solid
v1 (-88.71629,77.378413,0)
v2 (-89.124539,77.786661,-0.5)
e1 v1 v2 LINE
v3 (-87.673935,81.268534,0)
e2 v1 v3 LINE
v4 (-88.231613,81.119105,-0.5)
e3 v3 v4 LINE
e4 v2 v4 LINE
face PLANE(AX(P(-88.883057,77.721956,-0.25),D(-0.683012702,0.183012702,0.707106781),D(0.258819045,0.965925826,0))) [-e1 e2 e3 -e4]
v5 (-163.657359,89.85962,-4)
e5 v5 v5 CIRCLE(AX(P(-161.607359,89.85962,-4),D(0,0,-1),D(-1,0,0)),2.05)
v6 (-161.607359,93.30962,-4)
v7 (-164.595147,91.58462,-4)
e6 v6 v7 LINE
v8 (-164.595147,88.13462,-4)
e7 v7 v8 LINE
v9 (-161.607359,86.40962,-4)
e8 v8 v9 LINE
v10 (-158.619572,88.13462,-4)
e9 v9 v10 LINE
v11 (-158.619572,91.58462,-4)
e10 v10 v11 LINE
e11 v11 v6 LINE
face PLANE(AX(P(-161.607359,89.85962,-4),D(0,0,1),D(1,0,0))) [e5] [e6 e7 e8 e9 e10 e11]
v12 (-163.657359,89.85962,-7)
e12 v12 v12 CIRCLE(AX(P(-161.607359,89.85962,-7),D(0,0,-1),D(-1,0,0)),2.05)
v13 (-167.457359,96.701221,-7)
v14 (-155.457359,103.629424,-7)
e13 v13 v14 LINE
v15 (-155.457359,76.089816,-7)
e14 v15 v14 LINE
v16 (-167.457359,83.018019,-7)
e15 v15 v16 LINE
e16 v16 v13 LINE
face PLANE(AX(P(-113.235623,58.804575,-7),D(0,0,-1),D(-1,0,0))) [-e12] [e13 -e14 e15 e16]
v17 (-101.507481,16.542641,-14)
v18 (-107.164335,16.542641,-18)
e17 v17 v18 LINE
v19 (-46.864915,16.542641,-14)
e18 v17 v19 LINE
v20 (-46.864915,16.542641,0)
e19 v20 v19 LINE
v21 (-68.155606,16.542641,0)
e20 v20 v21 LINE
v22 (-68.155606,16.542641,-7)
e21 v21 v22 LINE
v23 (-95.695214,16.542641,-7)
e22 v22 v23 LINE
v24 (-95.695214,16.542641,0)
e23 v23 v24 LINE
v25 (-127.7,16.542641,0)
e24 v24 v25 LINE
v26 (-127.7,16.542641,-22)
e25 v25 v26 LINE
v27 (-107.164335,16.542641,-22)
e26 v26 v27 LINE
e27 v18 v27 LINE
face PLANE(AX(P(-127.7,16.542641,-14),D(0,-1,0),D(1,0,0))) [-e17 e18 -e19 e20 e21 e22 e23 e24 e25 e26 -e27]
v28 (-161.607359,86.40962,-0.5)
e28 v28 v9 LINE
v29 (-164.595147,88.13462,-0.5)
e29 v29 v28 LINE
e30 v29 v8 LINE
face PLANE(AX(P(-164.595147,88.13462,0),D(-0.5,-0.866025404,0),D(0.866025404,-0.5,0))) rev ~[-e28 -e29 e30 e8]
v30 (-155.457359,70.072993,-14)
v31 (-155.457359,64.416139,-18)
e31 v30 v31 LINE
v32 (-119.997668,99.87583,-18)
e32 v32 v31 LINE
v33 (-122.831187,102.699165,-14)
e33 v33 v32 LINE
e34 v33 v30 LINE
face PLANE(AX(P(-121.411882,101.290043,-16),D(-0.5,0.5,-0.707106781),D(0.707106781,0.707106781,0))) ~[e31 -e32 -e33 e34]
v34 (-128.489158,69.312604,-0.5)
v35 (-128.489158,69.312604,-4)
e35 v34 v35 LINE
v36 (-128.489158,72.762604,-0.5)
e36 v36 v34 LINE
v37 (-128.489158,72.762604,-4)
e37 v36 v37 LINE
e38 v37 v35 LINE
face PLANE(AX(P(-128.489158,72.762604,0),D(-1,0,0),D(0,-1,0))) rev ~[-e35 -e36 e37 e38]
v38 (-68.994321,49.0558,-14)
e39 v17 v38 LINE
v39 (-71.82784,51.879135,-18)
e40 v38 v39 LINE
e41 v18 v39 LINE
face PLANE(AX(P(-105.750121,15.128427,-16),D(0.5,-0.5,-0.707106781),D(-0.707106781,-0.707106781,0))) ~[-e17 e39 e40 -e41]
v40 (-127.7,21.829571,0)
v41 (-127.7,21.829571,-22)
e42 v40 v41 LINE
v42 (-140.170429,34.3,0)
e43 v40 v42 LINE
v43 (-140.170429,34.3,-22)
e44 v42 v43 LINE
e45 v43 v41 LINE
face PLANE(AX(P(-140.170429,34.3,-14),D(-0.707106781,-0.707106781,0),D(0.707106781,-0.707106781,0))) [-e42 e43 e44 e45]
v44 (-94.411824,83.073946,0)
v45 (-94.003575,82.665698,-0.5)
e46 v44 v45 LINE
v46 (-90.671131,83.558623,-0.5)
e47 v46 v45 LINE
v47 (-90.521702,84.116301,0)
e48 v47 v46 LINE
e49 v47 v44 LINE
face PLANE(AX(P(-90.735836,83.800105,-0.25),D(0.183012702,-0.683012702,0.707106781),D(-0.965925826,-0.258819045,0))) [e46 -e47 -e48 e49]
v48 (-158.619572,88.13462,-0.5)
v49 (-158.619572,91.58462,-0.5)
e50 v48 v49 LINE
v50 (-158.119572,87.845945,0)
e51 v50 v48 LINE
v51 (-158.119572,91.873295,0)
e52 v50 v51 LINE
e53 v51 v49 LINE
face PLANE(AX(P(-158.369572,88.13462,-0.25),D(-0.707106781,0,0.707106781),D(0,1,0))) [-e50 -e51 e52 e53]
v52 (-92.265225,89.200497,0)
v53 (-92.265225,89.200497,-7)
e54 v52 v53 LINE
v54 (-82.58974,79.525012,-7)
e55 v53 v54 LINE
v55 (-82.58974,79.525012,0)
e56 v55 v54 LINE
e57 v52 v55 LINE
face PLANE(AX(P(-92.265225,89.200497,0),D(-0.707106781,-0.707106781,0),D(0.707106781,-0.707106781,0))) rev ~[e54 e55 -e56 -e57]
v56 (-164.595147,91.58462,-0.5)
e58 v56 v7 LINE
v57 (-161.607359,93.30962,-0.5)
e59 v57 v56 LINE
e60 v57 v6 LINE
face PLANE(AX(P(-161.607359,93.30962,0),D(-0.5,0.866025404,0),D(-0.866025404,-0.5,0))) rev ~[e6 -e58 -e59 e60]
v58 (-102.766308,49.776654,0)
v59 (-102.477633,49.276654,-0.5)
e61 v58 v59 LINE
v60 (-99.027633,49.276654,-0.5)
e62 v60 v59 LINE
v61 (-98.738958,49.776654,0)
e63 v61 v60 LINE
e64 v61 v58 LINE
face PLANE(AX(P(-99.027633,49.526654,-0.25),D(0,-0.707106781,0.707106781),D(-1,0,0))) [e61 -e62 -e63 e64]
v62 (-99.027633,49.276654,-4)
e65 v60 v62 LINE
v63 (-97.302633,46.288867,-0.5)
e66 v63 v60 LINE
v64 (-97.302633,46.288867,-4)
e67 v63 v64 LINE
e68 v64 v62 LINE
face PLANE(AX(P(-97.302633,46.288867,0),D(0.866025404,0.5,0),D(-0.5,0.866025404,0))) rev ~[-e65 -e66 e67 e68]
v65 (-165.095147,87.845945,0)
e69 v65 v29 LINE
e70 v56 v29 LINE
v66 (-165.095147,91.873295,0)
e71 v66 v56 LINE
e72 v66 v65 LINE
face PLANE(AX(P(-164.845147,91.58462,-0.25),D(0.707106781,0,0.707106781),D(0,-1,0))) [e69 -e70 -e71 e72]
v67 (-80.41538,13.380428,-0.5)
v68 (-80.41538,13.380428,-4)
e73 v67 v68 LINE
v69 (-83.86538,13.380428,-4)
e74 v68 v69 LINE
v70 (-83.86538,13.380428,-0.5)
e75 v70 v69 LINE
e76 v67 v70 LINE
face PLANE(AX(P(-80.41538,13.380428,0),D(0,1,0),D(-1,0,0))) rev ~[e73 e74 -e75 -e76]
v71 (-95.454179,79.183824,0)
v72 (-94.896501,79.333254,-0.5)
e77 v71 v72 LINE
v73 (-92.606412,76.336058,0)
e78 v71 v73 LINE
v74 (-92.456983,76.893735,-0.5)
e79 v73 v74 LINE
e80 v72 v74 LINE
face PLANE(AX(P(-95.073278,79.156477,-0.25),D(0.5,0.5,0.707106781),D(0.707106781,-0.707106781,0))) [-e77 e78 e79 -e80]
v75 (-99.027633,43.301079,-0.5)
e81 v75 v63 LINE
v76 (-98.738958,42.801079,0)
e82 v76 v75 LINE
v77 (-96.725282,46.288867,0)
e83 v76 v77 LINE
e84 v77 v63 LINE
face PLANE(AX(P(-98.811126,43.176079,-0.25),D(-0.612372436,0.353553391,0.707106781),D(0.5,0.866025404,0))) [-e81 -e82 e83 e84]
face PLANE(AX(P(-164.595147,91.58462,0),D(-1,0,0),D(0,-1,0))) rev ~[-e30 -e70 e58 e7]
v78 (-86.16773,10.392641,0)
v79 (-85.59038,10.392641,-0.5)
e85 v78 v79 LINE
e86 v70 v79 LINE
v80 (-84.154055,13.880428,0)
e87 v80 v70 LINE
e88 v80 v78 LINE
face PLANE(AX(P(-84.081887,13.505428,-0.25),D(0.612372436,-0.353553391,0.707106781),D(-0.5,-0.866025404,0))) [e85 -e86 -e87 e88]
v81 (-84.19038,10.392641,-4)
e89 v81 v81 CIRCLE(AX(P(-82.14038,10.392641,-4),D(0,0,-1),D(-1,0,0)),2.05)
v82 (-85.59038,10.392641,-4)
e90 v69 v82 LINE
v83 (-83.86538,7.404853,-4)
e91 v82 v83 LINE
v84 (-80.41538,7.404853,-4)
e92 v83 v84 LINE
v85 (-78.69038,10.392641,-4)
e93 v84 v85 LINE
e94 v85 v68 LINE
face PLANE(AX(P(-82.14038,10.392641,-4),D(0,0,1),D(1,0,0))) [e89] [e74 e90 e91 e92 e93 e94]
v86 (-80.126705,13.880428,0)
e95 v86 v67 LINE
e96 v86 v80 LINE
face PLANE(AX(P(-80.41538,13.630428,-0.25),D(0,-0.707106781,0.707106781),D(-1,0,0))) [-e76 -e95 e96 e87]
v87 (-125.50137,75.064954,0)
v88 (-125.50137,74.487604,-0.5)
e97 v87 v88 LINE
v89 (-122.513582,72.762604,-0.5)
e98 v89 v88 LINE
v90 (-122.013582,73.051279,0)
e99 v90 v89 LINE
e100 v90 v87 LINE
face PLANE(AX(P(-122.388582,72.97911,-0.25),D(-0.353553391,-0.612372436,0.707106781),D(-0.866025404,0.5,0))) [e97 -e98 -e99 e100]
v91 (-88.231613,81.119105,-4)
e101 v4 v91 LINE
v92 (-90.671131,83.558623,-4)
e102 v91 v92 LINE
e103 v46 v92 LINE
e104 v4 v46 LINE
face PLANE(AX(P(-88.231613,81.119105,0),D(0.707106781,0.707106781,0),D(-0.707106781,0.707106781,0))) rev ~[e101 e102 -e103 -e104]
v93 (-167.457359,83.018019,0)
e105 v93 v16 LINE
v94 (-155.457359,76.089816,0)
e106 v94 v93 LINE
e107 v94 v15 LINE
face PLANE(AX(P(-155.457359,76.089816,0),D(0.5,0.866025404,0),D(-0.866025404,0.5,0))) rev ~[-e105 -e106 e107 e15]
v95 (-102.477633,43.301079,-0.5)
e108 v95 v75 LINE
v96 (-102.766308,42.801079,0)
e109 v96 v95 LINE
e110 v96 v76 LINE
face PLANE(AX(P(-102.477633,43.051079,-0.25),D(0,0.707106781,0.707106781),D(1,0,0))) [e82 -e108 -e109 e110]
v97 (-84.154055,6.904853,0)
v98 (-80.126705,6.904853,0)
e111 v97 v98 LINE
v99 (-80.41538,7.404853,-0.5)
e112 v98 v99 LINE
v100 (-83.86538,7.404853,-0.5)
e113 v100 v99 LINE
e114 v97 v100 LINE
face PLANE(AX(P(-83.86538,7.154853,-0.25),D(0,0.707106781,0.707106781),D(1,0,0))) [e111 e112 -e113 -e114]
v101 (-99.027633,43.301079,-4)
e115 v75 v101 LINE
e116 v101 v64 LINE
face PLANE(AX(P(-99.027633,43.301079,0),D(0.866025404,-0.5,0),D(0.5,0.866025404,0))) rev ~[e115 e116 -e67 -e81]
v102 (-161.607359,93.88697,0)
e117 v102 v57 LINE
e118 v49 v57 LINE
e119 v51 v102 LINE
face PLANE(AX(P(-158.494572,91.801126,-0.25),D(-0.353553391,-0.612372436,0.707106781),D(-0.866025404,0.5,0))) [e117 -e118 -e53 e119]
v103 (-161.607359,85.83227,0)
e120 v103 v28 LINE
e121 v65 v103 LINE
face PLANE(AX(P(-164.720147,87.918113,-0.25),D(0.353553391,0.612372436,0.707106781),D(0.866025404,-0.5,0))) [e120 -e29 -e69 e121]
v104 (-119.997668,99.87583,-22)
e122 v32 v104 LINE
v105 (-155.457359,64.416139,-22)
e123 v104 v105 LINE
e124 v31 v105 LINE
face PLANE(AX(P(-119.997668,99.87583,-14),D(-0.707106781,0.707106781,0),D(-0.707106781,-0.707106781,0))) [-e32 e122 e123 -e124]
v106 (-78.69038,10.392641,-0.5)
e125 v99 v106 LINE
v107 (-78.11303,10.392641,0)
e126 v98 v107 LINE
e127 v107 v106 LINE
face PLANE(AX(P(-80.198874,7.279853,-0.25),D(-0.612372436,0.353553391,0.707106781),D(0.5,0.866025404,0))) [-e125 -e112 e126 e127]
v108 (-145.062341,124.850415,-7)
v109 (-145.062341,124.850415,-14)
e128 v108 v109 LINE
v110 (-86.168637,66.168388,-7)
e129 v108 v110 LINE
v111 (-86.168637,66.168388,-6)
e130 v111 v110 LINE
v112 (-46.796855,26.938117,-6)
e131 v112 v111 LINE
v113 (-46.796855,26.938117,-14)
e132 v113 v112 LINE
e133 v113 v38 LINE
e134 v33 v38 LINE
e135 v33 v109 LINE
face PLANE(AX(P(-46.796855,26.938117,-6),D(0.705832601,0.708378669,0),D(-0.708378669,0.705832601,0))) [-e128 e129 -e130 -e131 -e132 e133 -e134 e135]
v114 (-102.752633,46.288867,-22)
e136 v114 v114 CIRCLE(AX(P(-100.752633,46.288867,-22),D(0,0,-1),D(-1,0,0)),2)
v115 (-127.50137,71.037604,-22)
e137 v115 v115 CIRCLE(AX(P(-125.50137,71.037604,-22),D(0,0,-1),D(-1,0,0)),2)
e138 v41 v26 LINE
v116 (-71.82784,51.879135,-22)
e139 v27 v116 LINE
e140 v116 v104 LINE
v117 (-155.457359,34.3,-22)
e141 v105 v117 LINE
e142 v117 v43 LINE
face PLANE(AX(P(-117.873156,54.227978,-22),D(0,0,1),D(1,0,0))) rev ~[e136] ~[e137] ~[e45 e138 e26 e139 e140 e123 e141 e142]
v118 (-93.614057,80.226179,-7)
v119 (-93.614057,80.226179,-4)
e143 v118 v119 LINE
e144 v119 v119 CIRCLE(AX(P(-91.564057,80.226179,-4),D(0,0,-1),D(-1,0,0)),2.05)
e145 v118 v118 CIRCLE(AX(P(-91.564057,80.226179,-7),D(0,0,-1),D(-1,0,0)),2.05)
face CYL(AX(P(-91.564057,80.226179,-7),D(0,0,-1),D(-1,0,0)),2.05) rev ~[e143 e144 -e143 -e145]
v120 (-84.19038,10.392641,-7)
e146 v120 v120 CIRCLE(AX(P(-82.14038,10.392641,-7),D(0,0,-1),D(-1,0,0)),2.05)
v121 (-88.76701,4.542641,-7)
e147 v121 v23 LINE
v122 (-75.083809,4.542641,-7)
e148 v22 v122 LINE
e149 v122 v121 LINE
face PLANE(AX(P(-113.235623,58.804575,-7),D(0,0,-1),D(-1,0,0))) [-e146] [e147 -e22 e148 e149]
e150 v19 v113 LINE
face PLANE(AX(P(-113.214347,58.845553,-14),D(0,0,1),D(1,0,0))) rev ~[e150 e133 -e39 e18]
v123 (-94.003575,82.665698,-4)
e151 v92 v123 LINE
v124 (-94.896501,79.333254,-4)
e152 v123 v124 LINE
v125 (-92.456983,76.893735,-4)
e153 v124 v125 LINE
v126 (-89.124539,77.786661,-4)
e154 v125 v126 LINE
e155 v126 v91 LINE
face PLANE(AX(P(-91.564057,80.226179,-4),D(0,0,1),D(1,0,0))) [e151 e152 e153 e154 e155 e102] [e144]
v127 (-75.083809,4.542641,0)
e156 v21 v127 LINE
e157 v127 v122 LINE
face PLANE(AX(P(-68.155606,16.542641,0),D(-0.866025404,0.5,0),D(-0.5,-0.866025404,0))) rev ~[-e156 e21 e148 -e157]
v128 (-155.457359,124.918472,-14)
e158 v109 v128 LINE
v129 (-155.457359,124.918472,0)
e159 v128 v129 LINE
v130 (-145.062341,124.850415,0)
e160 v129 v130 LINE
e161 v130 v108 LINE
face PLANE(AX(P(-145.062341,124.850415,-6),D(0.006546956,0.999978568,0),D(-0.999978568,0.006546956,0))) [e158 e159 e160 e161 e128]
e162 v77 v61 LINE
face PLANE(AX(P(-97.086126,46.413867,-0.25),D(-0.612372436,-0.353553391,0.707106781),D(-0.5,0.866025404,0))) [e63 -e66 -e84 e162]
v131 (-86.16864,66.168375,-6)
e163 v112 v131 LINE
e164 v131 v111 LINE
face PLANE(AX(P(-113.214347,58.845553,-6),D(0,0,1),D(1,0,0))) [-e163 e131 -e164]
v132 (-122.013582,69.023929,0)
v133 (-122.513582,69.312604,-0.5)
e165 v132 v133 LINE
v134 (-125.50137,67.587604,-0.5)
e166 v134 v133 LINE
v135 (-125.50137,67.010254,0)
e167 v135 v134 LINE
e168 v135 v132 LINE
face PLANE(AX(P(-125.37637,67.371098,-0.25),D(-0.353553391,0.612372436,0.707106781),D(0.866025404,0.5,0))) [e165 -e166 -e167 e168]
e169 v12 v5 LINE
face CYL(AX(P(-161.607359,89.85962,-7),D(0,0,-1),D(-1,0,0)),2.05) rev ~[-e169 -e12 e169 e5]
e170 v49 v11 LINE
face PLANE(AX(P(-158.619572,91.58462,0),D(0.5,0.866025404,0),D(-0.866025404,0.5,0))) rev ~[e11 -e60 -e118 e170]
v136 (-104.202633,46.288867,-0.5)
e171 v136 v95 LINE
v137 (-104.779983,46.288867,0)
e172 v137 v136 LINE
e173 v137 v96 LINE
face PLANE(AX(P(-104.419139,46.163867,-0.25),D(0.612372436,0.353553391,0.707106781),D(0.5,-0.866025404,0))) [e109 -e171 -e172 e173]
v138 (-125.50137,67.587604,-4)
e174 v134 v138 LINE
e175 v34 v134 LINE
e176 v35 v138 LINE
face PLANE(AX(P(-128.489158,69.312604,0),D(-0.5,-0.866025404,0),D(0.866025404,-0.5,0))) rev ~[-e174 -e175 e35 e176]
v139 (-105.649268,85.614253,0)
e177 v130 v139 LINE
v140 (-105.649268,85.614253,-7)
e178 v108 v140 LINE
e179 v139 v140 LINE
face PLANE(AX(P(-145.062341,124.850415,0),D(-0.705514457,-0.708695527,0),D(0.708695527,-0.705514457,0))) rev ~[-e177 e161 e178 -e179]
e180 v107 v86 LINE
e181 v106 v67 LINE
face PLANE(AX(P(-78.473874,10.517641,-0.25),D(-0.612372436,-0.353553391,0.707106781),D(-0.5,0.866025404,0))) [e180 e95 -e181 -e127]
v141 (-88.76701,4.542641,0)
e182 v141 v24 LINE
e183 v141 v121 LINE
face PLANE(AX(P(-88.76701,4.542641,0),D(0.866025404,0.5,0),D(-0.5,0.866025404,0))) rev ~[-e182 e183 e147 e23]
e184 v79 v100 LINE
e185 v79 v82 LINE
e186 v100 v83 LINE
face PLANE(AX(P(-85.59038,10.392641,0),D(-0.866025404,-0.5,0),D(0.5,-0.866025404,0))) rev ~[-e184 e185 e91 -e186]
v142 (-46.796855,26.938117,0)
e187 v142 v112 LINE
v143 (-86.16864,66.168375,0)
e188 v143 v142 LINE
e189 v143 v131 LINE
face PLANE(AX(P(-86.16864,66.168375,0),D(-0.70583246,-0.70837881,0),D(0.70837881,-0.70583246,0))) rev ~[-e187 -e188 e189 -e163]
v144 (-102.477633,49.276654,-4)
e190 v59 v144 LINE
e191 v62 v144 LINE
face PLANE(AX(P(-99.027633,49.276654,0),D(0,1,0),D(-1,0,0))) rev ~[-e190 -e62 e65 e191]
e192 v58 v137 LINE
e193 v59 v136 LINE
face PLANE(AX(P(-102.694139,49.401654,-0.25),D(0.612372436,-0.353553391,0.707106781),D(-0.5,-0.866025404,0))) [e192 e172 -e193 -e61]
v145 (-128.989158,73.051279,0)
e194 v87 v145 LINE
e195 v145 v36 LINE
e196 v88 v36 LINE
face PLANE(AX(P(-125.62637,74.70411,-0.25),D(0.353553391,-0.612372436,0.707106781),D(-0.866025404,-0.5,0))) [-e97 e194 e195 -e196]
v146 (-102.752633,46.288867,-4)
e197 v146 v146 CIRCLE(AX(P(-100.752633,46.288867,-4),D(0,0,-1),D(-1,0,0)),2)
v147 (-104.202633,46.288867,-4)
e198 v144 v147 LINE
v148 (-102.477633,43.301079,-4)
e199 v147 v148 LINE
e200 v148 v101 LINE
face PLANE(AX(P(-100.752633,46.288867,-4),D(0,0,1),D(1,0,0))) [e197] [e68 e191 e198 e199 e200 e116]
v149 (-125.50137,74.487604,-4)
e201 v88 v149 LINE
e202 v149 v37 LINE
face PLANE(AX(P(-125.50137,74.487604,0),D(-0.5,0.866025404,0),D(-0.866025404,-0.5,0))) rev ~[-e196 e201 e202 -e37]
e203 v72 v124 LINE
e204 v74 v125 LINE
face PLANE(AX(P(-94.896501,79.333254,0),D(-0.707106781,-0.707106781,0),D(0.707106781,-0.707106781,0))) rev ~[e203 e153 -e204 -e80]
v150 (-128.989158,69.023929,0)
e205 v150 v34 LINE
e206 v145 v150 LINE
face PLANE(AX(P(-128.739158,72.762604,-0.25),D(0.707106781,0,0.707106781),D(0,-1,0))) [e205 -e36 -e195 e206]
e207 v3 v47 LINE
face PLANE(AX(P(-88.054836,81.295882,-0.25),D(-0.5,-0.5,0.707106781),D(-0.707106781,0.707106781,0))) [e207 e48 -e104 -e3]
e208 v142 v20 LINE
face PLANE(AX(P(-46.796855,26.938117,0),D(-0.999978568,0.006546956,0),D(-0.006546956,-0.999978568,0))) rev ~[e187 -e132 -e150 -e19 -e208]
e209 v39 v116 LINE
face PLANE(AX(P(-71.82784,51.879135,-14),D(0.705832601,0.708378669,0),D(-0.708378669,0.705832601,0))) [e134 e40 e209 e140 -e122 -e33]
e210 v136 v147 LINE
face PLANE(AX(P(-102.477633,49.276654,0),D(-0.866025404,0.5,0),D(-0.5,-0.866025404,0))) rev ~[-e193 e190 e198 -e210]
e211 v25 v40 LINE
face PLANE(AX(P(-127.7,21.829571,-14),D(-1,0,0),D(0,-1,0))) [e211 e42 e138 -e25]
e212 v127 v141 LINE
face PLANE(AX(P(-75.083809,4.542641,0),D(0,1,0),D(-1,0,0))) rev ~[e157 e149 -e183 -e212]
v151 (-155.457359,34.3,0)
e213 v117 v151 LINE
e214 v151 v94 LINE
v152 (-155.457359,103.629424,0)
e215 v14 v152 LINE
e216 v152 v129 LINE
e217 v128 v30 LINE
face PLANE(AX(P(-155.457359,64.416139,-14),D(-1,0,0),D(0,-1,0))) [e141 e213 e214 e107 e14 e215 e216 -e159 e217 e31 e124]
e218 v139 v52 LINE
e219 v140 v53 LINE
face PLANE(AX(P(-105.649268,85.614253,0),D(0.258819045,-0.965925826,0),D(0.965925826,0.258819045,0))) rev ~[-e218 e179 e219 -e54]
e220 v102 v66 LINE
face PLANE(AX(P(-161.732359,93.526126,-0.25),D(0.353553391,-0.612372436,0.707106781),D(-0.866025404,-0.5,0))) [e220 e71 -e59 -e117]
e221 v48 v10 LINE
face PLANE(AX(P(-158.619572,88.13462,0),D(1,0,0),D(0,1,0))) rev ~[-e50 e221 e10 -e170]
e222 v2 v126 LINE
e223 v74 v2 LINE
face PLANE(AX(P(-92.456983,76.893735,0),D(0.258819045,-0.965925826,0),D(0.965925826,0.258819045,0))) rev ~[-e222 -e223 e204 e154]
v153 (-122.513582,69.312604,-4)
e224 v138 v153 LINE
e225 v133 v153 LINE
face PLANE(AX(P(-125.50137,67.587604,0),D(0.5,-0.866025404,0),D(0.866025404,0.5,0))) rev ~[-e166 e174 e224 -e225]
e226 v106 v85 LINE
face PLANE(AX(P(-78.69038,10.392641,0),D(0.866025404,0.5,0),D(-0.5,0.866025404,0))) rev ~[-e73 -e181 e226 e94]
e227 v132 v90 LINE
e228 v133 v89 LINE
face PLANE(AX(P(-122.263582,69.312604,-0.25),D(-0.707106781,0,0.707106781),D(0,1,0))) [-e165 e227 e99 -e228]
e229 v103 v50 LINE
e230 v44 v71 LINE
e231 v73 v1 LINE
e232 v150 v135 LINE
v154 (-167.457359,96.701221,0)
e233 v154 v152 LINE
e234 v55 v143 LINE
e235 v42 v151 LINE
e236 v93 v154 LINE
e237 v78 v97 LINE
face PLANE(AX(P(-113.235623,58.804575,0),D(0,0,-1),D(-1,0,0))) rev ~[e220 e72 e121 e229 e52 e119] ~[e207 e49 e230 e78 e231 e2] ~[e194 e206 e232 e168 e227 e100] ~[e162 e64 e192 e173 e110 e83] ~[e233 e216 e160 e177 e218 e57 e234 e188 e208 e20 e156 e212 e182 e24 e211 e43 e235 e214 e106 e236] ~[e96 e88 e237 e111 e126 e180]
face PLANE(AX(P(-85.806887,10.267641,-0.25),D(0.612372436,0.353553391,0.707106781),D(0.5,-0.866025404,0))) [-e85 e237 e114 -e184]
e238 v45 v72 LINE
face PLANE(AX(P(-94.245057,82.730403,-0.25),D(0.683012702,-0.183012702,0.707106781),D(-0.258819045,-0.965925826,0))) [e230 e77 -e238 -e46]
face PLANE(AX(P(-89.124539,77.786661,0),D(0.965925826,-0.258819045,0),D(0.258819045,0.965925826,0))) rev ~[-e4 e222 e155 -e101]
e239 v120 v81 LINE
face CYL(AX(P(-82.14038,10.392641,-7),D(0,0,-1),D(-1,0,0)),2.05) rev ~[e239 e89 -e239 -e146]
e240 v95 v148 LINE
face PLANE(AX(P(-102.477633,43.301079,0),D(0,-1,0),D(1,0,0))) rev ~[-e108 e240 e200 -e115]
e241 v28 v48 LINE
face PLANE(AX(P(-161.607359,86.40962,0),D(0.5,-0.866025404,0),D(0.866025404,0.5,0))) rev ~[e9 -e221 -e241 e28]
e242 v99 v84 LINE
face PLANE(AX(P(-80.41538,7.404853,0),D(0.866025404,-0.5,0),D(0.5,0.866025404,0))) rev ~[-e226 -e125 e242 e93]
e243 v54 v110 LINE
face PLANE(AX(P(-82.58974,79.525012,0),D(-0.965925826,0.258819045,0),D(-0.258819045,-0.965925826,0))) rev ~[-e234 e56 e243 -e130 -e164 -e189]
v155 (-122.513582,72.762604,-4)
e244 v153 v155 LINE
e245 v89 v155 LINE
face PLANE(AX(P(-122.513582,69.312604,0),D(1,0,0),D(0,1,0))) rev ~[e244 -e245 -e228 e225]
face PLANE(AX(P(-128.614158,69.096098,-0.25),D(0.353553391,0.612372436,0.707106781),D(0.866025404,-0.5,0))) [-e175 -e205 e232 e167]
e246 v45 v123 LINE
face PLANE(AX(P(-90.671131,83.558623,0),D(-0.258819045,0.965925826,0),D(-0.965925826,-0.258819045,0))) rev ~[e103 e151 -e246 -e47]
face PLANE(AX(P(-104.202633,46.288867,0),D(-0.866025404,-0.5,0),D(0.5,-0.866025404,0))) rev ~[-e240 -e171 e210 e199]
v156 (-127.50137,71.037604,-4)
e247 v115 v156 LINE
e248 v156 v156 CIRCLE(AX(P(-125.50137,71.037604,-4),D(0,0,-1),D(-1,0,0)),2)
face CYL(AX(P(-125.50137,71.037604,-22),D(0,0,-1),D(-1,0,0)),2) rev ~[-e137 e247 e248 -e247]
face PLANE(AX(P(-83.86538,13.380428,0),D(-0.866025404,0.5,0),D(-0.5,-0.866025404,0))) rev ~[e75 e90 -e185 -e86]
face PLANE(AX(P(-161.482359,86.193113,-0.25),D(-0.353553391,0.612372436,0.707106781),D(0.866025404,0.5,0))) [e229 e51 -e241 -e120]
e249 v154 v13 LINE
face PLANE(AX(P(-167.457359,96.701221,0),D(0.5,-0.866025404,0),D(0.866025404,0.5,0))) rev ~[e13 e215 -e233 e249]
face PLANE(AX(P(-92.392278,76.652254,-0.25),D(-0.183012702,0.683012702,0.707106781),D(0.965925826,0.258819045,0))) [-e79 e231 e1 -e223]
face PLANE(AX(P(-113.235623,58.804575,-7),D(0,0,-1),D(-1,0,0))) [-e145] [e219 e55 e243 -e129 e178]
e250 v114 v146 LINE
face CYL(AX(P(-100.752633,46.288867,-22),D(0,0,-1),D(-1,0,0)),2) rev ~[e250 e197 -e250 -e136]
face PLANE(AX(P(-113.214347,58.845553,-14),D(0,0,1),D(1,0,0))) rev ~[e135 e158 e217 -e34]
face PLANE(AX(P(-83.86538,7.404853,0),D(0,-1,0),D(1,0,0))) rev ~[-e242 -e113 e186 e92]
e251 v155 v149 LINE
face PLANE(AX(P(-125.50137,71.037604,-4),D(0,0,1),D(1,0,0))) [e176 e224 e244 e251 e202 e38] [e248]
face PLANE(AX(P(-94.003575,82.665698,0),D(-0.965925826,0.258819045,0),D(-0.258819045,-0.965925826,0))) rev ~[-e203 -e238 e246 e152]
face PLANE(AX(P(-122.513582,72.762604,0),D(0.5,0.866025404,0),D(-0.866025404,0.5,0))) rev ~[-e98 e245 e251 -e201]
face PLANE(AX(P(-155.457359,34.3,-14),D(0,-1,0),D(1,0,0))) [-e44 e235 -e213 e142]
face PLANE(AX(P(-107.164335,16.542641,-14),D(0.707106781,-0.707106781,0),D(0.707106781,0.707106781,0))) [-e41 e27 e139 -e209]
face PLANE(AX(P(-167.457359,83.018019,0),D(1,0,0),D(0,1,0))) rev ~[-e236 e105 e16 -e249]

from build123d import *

# Parameters (mm, degrees)
BOSS_EXTRUDE1_DEPTH      = 7
SKETCH2_R                = 2.05
CUT_EXTRUDE1_DEPTH       = 210.034905978
CUT_EXTRUDE2_DEPTH       = 4
BOSS_EXTRUDE8_DEPTH      = 7
BOSS_EXTRUDE8_DEPTH_BACK = 1
BOSS_EXTRUDE9_DEPTH      = 8
SKETCH22_R               = 2
CUT_EXTRUDE3_DEPTH       = 211.072825271
CUT_EXTRUDE4_DEPTH       = 4
CHAMFER1_SIZE            = 0.5
CHAMFER2_SIZE            = 0.5
CHAMFER3_SIZE            = 4


with BuildPart() as part:
    # Sketch1 → Boss-Extrude1 (new body)
    with BuildSketch(Plane.XY):
        Polygon((-86.168640192, 66.168375393), (-46.796854981, 26.9381166), (-46.864915159, 16.542640687), (-68.155605804, 16.542640687), (-75.083809034, 4.542640687), (-88.767010414, 4.542640687), (-95.695213644, 16.542640687), (-127.7, 16.542640687), (-127.7, 21.829570993), (-140.170429007, 34.3), (-155.457359313, 34.3), (-155.457359313, 76.089816153), (-167.457359313, 83.018019384), (-167.457359313, 96.701220763), (-155.457359313, 103.629423994), (-155.457359313, 124.918472329), (-145.062341245, 124.850415149), (-105.649268389, 85.614252867), (-92.265224659, 89.200496576), (-82.589740175, 79.525012092), align=None)
    extrude(amount=-BOSS_EXTRUDE1_DEPTH)

    # Sketch2 → Cut-Extrude1 (cut, through all)
    with BuildSketch(Plane(origin=(0, 0, -7), x_dir=(-1, 0, 0), z_dir=(0, 0, -1))):
        with Locations((82.1403802, 10.392640687)):
            Circle(SKETCH2_R)
        with Locations((91.564057064, 80.226179394)):
            Circle(SKETCH2_R)
        with Locations((161.607359313, 89.8596198)):
            Circle(SKETCH2_R)
    extrude(amount=-CUT_EXTRUDE1_DEPTH, mode=Mode.SUBTRACT)

    # Sketch3 → Cut-Extrude2 (cut)
    with BuildSketch(Plane.XY):
        Polygon((-158.61957167, 88.1346198), (-158.61957167, 91.5846198), (-161.607359313, 93.3096198), (-164.595146956, 91.5846198), (-164.595146956, 88.1346198), (-161.607359313, 86.4096198), align=None)
        Polygon((-88.231612963, 81.1191051), (-90.671131358, 83.558623495), (-94.003575459, 82.665697789), (-94.896501165, 79.333253689), (-92.456982769, 76.893735294), (-89.124538669, 77.786660999), align=None)
        Polygon((-80.4153802, 7.404853044), (-78.6903802, 10.392640687), (-80.4153802, 13.38042833), (-83.8653802, 13.38042833), (-85.5903802, 10.392640687), (-83.8653802, 7.404853044), align=None)
    extrude(amount=-CUT_EXTRUDE2_DEPTH, mode=Mode.SUBTRACT)

    # Sketch19 → Boss-Extrude8 (add, two sides: drawn at the far end of the back side and taken through both)
    with BuildSketch(Plane(origin=(0, 0, -7), x_dir=(-1, 0, 0), z_dir=(0, 0, -1)).offset(-BOSS_EXTRUDE8_DEPTH_BACK)):
        Polygon((46.864915159, 16.542640687), (46.796854981, 26.9381166), (145.062341245, 124.850415149), (155.457359313, 124.918472329), (155.457359313, 34.3), (140.170429007, 34.3), (127.7, 21.829570993), (127.7, 16.542640687), align=None)
    extrude(amount=BOSS_EXTRUDE8_DEPTH + BOSS_EXTRUDE8_DEPTH_BACK)

    # Sketch20 → Boss-Extrude9 (add)
    with BuildSketch(Plane(origin=(0, 0, -14), x_dir=(-1, 0, 0), z_dir=(0, 0, -1))):
        Polygon((127.7, 16.542640687), (107.164334943, 16.542640687), (71.827840432, 51.879135198), (119.997668017, 99.875829855), (155.457359313, 64.416138559), (155.457359313, 34.3), (140.170429007, 34.3), (127.7, 21.829570993), align=None)
    extrude(amount=BOSS_EXTRUDE9_DEPTH)

    # Sketch22 → Cut-Extrude3 (cut, through all)
    with BuildSketch(Plane(origin=(0, 0, -22), x_dir=(-1, 0, 0), z_dir=(0, 0, -1))):
        with Locations((100.752632712, 46.288866697)):
            Circle(SKETCH22_R)
        with Locations((125.501370054, 71.037604039)):
            Circle(SKETCH22_R)
    extrude(amount=-CUT_EXTRUDE3_DEPTH, mode=Mode.SUBTRACT)

    # Sketch23 → Cut-Extrude4 (cut)
    with BuildSketch(Plane.XY):
        Polygon((-125.501370054, 74.487604039), (-128.489157697, 72.762604039), (-128.489157697, 69.312604039), (-125.501370054, 67.587604039), (-122.513582411, 69.312604039), (-122.513582411, 72.762604039), align=None)
        Polygon((-104.202632712, 46.288866697), (-102.477632712, 43.301079054), (-99.027632712, 43.301079054), (-97.302632712, 46.288866697), (-99.027632712, 49.27665434), (-102.477632712, 49.27665434), align=None)
    extrude(amount=-CUT_EXTRUDE4_DEPTH, mode=Mode.SUBTRACT)

    # Chamfer1
    chamfer1_edges = [part.edges().sort_by_distance(p)[0] for p in [
        (-160.113465491, 87.2721198, 0),
        (-158.61957167, 89.8596198, 0),
        (-160.113465491, 92.4471198, 0),
        (-163.101253134, 92.4471198, 0),
        (-164.595146956, 89.8596198, 0),
        (-163.101253134, 87.2721198, 0),
        (-88.678075816, 79.45288305, 0),
        (-89.451372161, 82.338864297, 0),
        (-92.337353409, 83.112160642, 0),
        (-94.450038312, 80.999475739, 0),
        (-93.676741967, 78.113494491, 0),
        (-90.790760719, 77.340198146, 0),
        (-82.1403802, 7.404853044, 0),
        (-79.5528802, 8.898746866, 0),
        (-79.5528802, 11.886534509, 0),
        (-82.1403802, 13.38042833, 0),
        (-84.7278802, 11.886534509, 0),
        (-84.7278802, 8.898746866, 0),
    ]]
    chamfer(chamfer1_edges, length=CHAMFER1_SIZE)

    # Chamfer2
    chamfer2_edges = [part.edges().sort_by_distance(p)[0] for p in [
        (-124.007476232, 73.625104039, 0),
        (-126.995263875, 73.625104039, 0),
        (-128.489157697, 71.037604039, 0),
        (-126.995263875, 68.450104039, 0),
        (-124.007476232, 68.450104039, 0),
        (-122.513582411, 71.037604039, 0),
        (-103.340132712, 47.782760519, 0),
        (-103.340132712, 44.794972876, 0),
        (-100.752632712, 43.301079054, 0),
        (-98.165132712, 44.794972876, 0),
        (-98.165132712, 47.782760519, 0),
        (-100.752632712, 49.27665434, 0),
    ]]
    chamfer(chamfer2_edges, length=CHAMFER2_SIZE)

    # Chamfer3
    chamfer3_edges = [part.edges().sort_by_distance(p)[0] for p in [
        (-137.727513665, 82.145984207, -14),
        (-89.496087688, 34.210887943, -14),
    ]]
    chamfer(chamfer3_edges, length=CHAMFER3_SIZE)


solid = part.part
